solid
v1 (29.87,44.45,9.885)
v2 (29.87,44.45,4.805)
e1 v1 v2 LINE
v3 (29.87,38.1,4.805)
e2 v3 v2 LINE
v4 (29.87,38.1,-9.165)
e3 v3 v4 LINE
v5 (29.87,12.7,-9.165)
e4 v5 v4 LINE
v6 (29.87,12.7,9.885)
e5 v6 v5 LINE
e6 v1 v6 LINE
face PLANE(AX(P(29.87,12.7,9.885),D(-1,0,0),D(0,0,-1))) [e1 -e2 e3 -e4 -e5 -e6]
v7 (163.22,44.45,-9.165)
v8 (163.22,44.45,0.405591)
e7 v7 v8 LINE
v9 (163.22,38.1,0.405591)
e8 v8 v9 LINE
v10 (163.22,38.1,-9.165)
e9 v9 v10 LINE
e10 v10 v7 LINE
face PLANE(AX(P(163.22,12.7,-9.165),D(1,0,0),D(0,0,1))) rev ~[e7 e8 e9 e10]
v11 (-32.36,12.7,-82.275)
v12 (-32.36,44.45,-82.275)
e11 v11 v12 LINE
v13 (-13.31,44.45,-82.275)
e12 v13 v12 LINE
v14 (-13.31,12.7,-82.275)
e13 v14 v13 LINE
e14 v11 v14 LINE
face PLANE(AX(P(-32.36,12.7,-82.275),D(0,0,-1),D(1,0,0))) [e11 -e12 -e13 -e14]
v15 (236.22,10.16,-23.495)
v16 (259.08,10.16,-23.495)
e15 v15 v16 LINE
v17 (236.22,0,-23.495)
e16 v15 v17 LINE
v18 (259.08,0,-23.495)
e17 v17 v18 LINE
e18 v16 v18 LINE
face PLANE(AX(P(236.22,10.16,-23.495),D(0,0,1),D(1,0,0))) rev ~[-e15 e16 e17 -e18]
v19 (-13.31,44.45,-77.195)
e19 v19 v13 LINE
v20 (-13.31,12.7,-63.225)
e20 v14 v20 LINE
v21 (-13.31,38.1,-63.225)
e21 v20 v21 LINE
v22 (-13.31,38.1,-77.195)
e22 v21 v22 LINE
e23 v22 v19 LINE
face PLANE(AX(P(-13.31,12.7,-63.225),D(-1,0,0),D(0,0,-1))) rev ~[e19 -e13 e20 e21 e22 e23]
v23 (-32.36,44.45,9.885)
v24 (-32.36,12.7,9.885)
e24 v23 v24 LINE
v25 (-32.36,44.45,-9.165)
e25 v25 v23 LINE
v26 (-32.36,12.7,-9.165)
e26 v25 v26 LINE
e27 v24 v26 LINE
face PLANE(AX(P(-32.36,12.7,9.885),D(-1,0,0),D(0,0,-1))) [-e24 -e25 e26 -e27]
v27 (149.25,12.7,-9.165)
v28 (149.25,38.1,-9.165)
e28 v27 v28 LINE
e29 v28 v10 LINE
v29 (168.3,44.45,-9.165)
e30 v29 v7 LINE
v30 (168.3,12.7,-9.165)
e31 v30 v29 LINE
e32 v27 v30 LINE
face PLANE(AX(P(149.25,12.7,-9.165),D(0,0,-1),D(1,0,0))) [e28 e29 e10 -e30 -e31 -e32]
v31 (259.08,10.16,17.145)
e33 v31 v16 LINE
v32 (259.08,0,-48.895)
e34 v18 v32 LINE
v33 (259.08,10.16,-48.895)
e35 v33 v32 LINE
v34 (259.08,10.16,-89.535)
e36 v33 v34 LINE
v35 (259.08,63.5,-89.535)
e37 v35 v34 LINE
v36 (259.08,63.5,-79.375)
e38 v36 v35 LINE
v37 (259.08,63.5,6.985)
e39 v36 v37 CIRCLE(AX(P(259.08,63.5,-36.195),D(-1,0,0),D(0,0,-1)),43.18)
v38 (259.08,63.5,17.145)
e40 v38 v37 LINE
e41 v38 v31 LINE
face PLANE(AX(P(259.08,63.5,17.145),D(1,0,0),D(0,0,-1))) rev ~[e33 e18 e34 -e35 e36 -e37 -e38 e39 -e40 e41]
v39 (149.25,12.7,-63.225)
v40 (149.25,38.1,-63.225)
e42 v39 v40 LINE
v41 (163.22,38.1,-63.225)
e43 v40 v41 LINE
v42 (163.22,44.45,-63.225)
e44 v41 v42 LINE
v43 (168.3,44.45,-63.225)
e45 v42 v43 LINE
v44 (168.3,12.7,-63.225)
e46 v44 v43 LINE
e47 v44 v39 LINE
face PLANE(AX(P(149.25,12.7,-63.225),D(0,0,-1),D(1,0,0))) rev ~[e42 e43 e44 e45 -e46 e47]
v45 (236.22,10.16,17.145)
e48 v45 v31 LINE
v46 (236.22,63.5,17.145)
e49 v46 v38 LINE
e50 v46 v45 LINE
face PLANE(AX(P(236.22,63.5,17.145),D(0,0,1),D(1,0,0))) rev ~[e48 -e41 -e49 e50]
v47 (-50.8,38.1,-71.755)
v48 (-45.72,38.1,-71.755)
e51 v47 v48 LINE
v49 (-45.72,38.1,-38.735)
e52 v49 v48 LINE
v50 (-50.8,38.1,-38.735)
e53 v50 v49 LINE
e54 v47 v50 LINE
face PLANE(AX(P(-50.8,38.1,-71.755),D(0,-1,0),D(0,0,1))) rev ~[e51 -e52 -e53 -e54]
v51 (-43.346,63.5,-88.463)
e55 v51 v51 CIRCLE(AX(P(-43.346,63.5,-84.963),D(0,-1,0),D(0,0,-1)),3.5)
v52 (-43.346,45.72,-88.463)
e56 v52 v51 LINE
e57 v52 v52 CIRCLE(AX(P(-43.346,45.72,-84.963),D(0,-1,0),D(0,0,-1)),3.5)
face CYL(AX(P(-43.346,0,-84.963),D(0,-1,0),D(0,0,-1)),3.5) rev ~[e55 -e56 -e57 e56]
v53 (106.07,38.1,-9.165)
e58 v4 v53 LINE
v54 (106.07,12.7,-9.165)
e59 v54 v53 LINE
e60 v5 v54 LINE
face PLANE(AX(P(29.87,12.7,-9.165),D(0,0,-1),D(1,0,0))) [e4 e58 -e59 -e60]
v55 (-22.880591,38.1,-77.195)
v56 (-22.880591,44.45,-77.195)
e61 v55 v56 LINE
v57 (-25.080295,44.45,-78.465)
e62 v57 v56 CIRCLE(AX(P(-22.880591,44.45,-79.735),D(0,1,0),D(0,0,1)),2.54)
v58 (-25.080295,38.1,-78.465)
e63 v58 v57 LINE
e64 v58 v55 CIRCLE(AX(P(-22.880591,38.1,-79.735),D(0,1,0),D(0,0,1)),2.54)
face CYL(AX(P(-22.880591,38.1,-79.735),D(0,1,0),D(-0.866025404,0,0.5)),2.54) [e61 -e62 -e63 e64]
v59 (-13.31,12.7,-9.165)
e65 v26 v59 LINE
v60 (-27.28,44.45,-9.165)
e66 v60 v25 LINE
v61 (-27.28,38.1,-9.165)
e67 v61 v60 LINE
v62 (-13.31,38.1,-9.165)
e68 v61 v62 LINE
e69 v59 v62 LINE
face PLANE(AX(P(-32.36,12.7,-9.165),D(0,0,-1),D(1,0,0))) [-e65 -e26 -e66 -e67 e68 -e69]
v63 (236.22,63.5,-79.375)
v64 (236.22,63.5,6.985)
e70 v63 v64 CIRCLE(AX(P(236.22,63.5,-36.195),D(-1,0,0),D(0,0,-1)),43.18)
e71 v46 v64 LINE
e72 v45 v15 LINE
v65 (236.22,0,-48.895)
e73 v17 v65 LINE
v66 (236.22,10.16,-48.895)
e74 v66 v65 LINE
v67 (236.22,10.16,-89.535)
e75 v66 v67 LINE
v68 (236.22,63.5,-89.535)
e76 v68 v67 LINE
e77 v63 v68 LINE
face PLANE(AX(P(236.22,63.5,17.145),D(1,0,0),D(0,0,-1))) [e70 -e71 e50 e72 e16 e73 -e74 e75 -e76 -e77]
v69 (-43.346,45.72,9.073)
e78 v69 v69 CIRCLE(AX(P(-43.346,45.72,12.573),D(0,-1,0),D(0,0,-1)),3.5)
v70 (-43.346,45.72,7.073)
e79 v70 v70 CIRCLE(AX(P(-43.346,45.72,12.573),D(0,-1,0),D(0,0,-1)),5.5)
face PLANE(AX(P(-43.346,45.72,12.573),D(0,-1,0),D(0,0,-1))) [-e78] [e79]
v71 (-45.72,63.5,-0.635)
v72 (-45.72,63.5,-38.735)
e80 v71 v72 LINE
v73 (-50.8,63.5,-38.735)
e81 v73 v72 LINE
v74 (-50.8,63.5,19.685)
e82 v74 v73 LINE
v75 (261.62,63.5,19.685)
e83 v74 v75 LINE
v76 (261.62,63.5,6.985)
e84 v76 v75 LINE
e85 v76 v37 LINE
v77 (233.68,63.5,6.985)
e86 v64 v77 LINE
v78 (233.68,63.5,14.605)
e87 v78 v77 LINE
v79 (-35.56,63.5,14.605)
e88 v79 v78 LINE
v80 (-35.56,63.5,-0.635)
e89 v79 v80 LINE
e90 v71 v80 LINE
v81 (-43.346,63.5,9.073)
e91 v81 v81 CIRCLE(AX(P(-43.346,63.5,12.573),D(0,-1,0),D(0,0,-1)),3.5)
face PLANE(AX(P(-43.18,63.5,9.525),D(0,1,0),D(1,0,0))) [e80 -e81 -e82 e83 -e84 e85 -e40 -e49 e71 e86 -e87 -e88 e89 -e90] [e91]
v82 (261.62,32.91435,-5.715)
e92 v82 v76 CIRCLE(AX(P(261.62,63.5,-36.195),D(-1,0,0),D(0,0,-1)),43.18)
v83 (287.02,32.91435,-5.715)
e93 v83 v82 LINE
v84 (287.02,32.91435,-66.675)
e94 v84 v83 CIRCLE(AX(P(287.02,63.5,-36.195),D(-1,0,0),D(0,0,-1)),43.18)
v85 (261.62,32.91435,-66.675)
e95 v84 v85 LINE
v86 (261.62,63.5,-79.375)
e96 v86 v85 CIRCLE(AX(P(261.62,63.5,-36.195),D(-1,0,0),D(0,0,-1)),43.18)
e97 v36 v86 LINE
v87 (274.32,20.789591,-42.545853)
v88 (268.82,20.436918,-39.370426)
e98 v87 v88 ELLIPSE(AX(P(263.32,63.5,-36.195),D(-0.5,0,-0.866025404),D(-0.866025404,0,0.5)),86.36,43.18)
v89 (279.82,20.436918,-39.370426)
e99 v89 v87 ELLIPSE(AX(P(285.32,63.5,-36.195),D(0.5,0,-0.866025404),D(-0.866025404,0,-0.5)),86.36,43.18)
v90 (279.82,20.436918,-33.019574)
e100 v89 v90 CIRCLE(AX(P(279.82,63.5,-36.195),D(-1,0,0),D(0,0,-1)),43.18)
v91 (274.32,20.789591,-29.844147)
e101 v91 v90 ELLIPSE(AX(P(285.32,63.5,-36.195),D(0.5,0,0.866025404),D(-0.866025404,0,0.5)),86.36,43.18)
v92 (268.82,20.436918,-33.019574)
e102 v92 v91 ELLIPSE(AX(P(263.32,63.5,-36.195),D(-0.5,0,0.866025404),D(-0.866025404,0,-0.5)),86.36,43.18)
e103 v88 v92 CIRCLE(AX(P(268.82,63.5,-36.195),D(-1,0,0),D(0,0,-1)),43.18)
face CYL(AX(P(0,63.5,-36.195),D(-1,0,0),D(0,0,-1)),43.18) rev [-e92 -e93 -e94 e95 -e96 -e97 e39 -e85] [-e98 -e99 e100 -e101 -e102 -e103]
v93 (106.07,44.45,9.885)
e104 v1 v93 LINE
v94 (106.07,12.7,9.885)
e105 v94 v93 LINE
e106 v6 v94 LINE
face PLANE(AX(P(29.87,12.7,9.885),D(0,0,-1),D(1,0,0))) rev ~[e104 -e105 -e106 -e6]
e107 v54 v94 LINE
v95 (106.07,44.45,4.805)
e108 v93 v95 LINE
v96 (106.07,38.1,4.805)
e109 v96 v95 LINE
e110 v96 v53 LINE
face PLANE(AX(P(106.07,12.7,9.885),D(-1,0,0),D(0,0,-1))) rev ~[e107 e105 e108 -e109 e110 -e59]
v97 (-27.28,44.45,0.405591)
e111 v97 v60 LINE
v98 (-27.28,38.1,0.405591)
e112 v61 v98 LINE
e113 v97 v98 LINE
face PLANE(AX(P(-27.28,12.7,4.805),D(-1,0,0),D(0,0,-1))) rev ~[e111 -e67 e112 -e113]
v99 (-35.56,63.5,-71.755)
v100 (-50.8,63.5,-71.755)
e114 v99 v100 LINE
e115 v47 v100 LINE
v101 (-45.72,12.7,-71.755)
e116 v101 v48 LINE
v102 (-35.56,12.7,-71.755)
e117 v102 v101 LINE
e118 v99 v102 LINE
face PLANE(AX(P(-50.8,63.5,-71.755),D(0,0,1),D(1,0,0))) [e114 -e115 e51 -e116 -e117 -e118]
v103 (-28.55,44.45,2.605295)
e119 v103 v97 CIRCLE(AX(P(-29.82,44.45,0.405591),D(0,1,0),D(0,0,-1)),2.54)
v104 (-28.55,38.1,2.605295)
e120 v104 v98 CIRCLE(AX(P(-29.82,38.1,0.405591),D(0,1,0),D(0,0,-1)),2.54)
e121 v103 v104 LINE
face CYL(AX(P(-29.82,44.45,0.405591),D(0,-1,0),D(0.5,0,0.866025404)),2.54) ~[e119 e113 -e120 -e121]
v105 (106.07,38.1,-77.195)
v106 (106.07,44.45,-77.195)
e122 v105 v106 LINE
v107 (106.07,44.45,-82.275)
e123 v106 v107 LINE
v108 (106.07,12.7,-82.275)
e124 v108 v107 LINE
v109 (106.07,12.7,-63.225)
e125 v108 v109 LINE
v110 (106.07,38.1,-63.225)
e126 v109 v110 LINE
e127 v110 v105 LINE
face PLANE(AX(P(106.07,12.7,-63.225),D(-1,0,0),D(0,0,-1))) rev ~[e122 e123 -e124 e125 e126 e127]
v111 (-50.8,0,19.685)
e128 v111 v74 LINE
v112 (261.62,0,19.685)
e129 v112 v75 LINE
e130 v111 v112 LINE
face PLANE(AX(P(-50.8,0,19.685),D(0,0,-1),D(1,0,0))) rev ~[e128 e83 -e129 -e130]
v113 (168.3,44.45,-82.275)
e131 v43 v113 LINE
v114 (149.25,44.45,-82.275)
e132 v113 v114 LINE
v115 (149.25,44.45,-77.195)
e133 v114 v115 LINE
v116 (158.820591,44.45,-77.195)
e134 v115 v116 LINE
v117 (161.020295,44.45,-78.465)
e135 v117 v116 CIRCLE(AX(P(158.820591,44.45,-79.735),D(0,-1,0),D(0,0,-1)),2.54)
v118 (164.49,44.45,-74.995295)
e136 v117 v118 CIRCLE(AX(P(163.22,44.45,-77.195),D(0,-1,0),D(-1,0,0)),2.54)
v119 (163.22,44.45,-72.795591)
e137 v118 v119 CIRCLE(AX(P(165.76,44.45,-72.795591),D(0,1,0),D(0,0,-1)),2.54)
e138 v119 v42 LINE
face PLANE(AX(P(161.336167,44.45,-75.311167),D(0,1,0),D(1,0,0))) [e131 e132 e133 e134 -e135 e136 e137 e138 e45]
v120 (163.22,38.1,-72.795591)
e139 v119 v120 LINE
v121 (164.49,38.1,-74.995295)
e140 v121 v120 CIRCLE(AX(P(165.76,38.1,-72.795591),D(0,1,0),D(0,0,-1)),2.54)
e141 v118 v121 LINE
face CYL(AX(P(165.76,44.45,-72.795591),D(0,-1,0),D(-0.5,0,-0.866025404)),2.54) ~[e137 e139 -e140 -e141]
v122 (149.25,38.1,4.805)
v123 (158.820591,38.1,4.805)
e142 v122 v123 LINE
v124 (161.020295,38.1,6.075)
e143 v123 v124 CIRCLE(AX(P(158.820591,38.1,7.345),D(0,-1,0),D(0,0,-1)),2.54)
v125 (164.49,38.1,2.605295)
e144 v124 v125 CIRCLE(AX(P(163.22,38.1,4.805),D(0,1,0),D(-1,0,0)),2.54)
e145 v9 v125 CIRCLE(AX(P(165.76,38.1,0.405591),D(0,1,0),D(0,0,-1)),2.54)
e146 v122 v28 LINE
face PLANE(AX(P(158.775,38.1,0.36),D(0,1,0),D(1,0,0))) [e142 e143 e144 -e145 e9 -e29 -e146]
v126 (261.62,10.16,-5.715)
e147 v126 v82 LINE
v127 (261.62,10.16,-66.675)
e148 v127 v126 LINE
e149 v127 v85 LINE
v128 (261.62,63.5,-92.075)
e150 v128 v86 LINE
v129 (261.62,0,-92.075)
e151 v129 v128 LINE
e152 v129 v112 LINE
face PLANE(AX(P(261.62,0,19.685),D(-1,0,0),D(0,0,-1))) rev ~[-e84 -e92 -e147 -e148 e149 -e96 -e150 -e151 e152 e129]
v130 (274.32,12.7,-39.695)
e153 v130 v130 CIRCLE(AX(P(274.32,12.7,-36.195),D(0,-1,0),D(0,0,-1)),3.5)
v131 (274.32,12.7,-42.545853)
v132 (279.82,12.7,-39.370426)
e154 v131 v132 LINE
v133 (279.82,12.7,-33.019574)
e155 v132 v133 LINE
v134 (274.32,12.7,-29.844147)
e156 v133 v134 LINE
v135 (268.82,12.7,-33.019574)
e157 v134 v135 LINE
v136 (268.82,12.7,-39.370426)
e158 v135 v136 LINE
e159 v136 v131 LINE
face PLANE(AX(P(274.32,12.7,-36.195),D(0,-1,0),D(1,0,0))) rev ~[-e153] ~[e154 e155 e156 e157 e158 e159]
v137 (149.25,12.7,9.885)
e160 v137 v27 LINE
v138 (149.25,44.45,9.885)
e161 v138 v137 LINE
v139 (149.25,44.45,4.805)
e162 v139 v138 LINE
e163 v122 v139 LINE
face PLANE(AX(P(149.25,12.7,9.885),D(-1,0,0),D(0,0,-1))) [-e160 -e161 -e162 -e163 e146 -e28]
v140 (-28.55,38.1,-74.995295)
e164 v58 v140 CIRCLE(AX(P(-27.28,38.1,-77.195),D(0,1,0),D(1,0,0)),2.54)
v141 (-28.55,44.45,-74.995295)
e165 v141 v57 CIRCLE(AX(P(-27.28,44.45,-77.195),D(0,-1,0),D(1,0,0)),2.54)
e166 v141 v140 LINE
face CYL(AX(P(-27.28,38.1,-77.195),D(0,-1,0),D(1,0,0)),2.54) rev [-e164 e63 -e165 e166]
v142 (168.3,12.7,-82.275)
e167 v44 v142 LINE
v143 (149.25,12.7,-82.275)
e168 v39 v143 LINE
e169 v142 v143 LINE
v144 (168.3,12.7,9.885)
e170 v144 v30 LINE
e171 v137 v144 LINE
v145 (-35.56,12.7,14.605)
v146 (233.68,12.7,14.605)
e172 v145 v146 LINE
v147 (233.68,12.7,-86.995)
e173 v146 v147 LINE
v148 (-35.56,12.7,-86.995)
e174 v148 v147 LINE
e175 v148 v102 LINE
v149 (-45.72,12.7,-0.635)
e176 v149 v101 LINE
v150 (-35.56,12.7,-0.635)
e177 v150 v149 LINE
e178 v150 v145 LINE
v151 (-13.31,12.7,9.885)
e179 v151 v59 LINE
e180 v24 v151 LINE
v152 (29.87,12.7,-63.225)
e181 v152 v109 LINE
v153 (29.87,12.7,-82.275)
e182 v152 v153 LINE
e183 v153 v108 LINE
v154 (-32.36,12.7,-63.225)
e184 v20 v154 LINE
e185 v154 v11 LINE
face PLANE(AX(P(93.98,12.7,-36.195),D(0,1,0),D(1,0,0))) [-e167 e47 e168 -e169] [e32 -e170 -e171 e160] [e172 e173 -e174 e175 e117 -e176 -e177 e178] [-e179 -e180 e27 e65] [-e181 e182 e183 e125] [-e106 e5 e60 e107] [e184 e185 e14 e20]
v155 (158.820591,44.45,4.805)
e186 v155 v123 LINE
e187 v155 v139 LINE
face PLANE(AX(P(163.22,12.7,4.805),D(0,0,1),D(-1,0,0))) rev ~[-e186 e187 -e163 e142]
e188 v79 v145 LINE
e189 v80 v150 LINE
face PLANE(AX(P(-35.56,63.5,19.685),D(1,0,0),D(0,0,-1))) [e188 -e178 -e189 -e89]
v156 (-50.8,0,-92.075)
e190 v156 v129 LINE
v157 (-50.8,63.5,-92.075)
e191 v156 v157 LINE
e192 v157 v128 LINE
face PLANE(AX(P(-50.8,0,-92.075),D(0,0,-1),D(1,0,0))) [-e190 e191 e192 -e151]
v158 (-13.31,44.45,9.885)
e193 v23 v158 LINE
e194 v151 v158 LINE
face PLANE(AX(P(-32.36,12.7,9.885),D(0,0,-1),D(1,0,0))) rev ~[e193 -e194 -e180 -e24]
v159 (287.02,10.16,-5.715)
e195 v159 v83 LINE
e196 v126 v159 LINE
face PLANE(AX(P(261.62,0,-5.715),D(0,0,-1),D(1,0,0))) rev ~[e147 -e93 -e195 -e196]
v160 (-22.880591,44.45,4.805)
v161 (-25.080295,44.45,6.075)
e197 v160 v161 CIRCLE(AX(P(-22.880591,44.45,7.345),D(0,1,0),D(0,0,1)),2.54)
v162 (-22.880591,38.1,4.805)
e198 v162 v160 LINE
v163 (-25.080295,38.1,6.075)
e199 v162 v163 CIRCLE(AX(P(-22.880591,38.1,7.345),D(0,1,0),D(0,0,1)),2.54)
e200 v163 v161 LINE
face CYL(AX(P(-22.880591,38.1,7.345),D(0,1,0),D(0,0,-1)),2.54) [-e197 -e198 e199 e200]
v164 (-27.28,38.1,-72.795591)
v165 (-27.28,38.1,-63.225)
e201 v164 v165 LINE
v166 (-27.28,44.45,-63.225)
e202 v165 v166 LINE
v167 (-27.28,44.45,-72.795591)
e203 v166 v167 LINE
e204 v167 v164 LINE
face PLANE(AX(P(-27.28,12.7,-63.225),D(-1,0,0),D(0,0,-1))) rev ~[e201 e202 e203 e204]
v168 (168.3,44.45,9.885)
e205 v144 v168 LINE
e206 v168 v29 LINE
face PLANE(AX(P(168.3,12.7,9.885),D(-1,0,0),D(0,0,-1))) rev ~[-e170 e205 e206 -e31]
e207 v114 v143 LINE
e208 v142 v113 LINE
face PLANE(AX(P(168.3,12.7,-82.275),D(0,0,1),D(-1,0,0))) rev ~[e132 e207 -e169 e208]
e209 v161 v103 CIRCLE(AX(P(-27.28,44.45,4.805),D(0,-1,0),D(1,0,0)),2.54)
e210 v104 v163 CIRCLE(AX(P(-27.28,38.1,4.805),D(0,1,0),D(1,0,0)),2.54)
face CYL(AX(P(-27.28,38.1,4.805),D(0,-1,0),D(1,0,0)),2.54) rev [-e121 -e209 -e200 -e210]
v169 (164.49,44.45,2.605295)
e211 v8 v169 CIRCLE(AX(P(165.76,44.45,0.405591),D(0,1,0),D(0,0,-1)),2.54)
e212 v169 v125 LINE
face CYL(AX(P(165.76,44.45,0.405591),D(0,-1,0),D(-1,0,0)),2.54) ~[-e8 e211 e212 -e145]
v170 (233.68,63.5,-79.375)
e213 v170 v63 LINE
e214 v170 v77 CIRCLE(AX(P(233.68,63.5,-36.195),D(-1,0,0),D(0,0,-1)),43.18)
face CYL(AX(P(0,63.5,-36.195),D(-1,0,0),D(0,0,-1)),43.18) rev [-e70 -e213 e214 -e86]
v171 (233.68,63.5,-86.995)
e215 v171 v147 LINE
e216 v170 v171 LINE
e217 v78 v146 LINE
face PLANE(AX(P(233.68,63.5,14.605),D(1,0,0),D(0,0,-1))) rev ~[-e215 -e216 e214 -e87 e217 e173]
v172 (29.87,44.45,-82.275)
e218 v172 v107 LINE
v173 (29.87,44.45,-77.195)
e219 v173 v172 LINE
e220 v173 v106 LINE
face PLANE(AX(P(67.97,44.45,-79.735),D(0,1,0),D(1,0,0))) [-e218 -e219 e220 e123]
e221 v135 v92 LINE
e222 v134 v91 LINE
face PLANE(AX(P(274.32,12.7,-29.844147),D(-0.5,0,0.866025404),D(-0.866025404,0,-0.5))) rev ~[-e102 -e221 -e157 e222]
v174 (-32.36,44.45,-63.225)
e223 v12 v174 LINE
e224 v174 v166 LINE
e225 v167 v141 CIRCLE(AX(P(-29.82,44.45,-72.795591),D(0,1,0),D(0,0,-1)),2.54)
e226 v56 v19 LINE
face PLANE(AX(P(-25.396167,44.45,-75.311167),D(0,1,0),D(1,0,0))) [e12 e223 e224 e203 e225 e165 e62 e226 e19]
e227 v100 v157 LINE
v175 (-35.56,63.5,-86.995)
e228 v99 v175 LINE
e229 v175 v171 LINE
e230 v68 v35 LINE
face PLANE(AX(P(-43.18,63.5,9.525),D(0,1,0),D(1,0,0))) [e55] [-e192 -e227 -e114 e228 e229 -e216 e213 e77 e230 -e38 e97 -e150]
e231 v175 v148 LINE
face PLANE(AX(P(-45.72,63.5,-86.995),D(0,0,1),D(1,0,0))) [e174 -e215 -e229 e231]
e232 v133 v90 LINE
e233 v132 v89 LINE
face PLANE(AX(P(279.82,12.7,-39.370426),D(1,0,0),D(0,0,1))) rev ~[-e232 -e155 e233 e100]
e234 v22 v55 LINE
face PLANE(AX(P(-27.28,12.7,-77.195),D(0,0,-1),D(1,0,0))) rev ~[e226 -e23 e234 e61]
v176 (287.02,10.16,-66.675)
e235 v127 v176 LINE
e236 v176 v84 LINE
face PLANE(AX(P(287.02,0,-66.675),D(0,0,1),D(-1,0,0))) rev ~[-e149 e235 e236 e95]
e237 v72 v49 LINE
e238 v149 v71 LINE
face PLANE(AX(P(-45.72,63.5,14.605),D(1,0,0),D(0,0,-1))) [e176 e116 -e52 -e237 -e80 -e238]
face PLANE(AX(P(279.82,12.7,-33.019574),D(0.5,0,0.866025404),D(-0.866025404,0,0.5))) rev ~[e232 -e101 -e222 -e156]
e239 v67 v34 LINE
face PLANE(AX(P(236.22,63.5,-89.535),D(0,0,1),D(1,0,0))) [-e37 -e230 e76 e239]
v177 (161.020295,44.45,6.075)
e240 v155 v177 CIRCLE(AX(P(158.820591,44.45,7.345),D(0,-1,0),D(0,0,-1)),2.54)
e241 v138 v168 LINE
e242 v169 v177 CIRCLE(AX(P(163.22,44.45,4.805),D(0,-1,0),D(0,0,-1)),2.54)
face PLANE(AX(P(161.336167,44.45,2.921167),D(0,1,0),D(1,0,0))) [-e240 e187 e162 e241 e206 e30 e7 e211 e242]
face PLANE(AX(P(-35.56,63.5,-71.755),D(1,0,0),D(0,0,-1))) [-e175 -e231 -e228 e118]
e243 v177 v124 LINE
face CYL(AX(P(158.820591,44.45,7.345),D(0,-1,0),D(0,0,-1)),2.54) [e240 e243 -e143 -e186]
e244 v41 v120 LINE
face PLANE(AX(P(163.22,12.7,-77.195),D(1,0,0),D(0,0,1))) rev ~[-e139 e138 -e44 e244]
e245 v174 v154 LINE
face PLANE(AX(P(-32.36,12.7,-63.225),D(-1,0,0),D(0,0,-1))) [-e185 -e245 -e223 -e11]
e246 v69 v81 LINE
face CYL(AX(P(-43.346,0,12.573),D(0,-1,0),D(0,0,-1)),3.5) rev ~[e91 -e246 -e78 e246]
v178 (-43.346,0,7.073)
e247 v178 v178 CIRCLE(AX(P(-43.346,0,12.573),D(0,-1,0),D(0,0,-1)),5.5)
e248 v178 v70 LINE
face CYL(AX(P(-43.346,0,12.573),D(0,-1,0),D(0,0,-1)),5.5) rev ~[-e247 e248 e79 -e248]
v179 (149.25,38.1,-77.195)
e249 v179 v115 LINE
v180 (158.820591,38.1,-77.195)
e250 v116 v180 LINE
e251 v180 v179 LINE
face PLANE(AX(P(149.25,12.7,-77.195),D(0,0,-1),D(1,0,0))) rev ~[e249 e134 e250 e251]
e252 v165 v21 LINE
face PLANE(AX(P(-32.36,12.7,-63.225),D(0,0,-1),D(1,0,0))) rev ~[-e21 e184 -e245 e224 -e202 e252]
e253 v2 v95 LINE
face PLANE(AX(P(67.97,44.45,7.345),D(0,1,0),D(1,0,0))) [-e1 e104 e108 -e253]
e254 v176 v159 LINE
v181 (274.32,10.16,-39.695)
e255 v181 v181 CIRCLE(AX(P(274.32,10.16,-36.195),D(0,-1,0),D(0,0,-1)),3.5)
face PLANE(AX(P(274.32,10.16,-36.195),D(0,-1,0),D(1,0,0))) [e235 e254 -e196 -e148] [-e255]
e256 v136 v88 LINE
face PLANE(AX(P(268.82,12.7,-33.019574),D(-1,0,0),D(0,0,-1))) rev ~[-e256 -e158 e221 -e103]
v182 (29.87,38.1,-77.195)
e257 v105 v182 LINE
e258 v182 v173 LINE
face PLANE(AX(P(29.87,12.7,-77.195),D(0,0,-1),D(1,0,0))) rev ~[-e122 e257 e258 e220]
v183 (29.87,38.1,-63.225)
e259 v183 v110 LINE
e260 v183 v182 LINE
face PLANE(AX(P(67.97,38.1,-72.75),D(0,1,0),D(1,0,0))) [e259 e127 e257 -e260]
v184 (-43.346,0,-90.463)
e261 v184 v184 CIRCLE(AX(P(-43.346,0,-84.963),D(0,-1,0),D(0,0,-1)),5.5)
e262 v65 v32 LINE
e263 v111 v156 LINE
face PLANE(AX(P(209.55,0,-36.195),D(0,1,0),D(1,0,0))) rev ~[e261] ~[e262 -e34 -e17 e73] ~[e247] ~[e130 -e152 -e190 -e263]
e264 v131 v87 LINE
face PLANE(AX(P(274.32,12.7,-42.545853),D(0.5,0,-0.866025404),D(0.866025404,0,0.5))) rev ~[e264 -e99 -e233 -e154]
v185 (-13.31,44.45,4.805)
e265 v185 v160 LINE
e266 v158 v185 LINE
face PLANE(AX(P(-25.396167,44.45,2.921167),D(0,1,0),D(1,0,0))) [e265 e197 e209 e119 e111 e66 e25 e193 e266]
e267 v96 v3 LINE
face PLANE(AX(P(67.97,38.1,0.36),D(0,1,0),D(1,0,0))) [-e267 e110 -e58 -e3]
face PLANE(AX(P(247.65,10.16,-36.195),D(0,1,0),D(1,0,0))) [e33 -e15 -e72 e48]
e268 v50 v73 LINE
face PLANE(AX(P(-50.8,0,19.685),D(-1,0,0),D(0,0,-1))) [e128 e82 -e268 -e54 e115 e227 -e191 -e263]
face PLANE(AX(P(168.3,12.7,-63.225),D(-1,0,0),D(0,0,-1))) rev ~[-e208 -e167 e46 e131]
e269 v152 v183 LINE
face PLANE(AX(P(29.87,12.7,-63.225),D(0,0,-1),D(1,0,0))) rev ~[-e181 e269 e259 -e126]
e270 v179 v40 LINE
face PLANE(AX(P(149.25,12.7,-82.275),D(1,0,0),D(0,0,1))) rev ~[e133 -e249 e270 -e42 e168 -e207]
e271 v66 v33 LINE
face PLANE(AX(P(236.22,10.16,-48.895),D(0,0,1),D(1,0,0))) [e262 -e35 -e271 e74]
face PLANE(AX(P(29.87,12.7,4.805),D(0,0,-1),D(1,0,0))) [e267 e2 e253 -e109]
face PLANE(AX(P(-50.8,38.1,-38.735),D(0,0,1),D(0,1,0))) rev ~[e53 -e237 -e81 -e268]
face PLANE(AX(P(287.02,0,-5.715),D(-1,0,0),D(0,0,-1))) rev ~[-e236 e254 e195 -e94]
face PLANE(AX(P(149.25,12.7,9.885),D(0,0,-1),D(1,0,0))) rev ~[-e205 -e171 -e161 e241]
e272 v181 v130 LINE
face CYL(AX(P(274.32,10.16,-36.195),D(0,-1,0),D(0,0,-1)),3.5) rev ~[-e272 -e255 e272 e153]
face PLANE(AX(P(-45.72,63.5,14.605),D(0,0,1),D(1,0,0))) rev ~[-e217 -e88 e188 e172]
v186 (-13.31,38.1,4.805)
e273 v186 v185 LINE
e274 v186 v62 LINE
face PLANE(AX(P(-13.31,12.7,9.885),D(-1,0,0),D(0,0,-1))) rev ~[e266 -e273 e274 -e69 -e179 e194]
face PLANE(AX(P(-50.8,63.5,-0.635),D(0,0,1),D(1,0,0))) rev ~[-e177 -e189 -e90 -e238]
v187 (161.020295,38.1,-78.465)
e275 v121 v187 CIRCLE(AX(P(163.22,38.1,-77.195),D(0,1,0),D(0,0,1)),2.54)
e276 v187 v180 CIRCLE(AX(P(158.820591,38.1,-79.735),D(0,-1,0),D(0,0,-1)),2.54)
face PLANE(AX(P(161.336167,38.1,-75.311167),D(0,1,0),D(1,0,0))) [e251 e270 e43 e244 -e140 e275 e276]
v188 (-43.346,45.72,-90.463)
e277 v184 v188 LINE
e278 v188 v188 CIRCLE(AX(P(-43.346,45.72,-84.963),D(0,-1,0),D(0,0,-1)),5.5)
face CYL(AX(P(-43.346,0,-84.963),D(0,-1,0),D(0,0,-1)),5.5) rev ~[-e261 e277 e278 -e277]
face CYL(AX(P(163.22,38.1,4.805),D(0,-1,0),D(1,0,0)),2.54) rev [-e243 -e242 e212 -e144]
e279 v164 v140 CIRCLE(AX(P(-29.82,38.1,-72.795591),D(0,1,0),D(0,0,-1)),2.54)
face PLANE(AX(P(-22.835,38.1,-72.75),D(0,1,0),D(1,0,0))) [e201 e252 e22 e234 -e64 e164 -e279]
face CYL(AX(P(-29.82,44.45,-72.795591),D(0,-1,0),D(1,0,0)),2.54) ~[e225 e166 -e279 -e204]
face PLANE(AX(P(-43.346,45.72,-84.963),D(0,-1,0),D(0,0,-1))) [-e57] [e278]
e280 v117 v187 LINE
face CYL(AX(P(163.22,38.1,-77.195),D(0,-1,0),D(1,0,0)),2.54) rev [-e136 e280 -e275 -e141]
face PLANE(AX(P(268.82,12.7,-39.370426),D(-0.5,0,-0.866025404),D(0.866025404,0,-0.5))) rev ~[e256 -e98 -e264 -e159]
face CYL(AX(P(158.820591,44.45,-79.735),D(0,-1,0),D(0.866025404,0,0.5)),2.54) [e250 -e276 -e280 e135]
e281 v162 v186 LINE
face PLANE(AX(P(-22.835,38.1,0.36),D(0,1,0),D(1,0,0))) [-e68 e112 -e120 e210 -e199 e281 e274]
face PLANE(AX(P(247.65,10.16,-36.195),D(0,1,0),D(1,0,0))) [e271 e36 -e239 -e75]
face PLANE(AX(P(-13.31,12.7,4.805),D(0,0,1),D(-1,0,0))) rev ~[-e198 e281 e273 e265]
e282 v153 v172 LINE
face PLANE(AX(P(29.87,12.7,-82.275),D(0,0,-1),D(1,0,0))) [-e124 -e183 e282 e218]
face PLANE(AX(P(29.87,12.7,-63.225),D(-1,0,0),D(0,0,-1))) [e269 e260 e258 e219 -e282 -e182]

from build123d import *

# Parameters (mm, degrees)
SKETCH3_W           = 520.7
SKETCH3_H           = 111.76
BOSS_EXTRUDE1_DEPTH = 63.5
CUT_EXTRUDE1_START  = 6.35
SKETCH2_W           = 77.47
SKETCH2_H           = 77.47
CUT_EXTRUDE1_DEPTH  = 111.76
CUT_EXTRUDE2_DEPTH  = 156.718
SKETCH5_R           = 43.18
CUT_EXTRUDE3_DEPTH  = 355.6
SKETCH6_W           = 279.4
SKETCH6_H           = 101.6
CUT_EXTRUDE4_DEPTH  = 50.8
CUT_EXTRUDE5_DEPTH  = 174.244
SKETCH9_W           = 25.4
SKETCH9_H           = 60.96
CUT_EXTRUDE6_DEPTH  = 10.16
BOSS_EXTRUDE2_REACH = 310.043
SKETCH11_W          = 15.24
SKETCH11_H          = 20.32
SKETCH10_R          = 3.5
CUT_EXTRUDE7_DEPTH  = 76.2
SKETCH10_3_R        = 5.5
CUT_EXTRUDE8_DEPTH  = 45.72
SKETCH13_R          = 3.5
CUT_EXTRUDE9_DEPTH  = 34.448
CUT_EXTRUDE10_START = -2.54
SKETCH13_3_R        = 3.5
CUT_EXTRUDE10_DEPTH = 34.448
SKETCH14_W          = 19.05
SKETCH14_H          = 19.05
SKETCH14_W_2        = 76.2
BOSS_EXTRUDE3_DEPTH = 25.4
SKETCH14_3_W        = 76.2
SKETCH14_3_H        = 5.08
BOSS_EXTRUDE4_DEPTH = 31.75
SKETCH16_W          = 22.86
SKETCH16_H          = 106.68
CUT_EXTRUDE12_DEPTH = 53.34
SKETCH17_W          = 22.86
SKETCH17_H          = 25.4
CUT_EXTRUDE13_DEPTH = 52.54
SKETCH18_W          = 33.02
SKETCH18_H          = 25.4
CUT_EXTRUDE14_DEPTH = 17.018
SKETCH19_R          = 2.54
CUT_EXTRUDE15_DEPTH = 23.876
FILLET1_R           = 2.54


with BuildPart() as part:
    # Sketch3 → Boss-Extrude1 (new body)
    with BuildSketch(Plane(origin=(0, 0, 0), x_dir=(1, 0, 0), z_dir=(0, 1, 0))):
        with Locations((209.55, 36.195)):
            Rectangle(SKETCH3_W, SKETCH3_H)
    extrude(amount=BOSS_EXTRUDE1_DEPTH)

    # Sketch2 → Cut-Extrude1 (cut)
    with BuildSketch(Plane(origin=(0, 0, 0), x_dir=(1, 0, 0), z_dir=(0, 1, 0)).offset(CUT_EXTRUDE1_START)):
        with Locations((412.75, 36.195)):
            Rectangle(SKETCH2_W, SKETCH2_H)
    extrude(amount=CUT_EXTRUDE1_DEPTH, mode=Mode.SUBTRACT)

    # Sketch4 → Cut-Extrude2 (cut)
    with BuildSketch(Plane.XY.offset(19.685)):
        with BuildLine():
            Line((330.2, 12.7), (469.9, 12.7))
            Line((469.9, 12.7), (469.9, 63.5))
            Line((469.9, 63.5), (381, 63.5))
            ThreePointArc((381, 63.5), (294.278975516, 99.421024484), (330.2, 12.7))
        make_face()
    extrude(amount=-CUT_EXTRUDE2_DEPTH, mode=Mode.SUBTRACT)

    # Sketch5 → Cut-Extrude3 (cut)
    with BuildSketch(Plane(origin=(0, 0, 0), x_dir=(0, 0, -1), z_dir=(1, 0, 0))):
        with Locations((36.195, 63.5)):
            Circle(SKETCH5_R)
    extrude(amount=CUT_EXTRUDE3_DEPTH, mode=Mode.SUBTRACT)

    # Sketch6 → Cut-Extrude4 (cut)
    with BuildSketch(Plane(origin=(0, 63.5, 0), x_dir=(1, 0, 0), z_dir=(0, 1, 0))):
        with Locations((93.98, 36.195)):
            Rectangle(SKETCH6_W, SKETCH6_H)
    extrude(amount=-CUT_EXTRUDE4_DEPTH, mode=Mode.SUBTRACT)

    # Sketch7 → Cut-Revolve1 (revolve, cut)
    with BuildSketch(Plane(origin=(0, 63.5, 0), x_dir=(1, 0, 0), z_dir=(0, 1, 0))):
        with BuildLine():
            Line((241.3, -13.805), (245.161436971, -13.805))
            ThreePointArc((245.161436971, -13.805), (249.759619592, 11.007294884), (251.3, 36.195))
            Line((251.3, 36.195), (241.3, 36.195))
            Line((241.3, 36.195), (241.3, -13.805))
        make_face()
    revolve(axis=Axis((-45.72, 63.5, -36.195), (1, 0, 0)), mode=Mode.SUBTRACT)

    # Sketch8 → Cut-Extrude5 (cut)
    with BuildSketch(Plane.XZ):
        Polygon((261.62, 19.685), (261.62, -5.715), (287.02, -5.715), (287.02, -66.675), (261.62, -66.675), (261.62, -92.075), (609.54801076, -173.862508288), (609.54801076, 88.425228921), align=None)
    extrude(amount=-CUT_EXTRUDE5_DEPTH, mode=Mode.SUBTRACT)

    # Sketch9 → Cut-Extrude6 (cut)
    with BuildSketch(Plane.XZ):
        with Locations((274.32, -36.195)):
            Rectangle(SKETCH9_W, SKETCH9_H)
    extrude(amount=-CUT_EXTRUDE6_DEPTH, mode=Mode.SUBTRACT)

    # Sketch11 → Boss-Extrude2 (add, up to next)
    with BuildSketch(Plane(origin=(0, 63.5, 0), x_dir=(1, 0, 0), z_dir=(0, 1, 0)), mode=Mode.PRIVATE) as boss_extrude2_sk1:
        with Locations((-43.18, 81.915)):
            Rectangle(SKETCH11_W, SKETCH11_H)
    boss_extrude2_tool1 = extrude(boss_extrude2_sk1.sketch, amount=-BOSS_EXTRUDE2_REACH, mode=Mode.PRIVATE) - part.part
    # Sketch11 → Boss-Extrude2 (add, up to next)
    with BuildSketch(Plane(origin=(0, 63.5, 0), x_dir=(1, 0, 0), z_dir=(0, 1, 0)), mode=Mode.PRIVATE) as boss_extrude2_sk2:
        with Locations((-43.18, -9.525)):
            Rectangle(SKETCH11_W, SKETCH11_H)
    boss_extrude2_tool2 = extrude(boss_extrude2_sk2.sketch, amount=-BOSS_EXTRUDE2_REACH, mode=Mode.PRIVATE) - part.part
    add(boss_extrude2_tool1.solids().sort_by_distance((-43.18, 63.5, -81.915))[0])
    add(boss_extrude2_tool2.solids().sort_by_distance((-43.18, 63.5, 9.525))[0])

    # Sketch10 → Cut-Extrude7 (cut)
    with BuildSketch(Plane.XZ):
        with Locations((-43.346, -84.963)):
            Circle(SKETCH10_R)
        with Locations((-43.346, 12.573)):
            Circle(SKETCH10_R)
    extrude(amount=-CUT_EXTRUDE7_DEPTH, mode=Mode.SUBTRACT)

    # Sketch10<3> → Cut-Extrude8 (cut)
    with BuildSketch(Plane.XZ):
        with Locations((-43.346, 12.573)):
            Circle(SKETCH10_3_R)
        with Locations((-43.346, -84.963)):
            Circle(SKETCH10_3_R)
    extrude(amount=-CUT_EXTRUDE8_DEPTH, mode=Mode.SUBTRACT)

    # Sketch13 → Cut-Extrude9 (cut)
    with BuildSketch(Plane.XZ.offset(-10.16)):
        with Locations((274.32, -36.195)):
            Circle(SKETCH13_R)
    extrude(amount=-CUT_EXTRUDE9_DEPTH, mode=Mode.SUBTRACT)

    # Sketch13<3> → Cut-Extrude10 (cut)
    with BuildSketch(Plane.XZ.offset(-10.16).offset(CUT_EXTRUDE10_START)):
        Polygon((268.82, -39.370426481), (274.32, -42.545852961), (279.82, -39.370426481), (279.82, -33.019573519), (274.32, -29.844147039), (268.82, -33.019573519), align=None)
        with Locations((274.32, -36.195)):
            Circle(SKETCH13_3_R, mode=Mode.SUBTRACT)
    extrude(amount=-CUT_EXTRUDE10_DEPTH, mode=Mode.SUBTRACT)

    # Sketch14 → Boss-Extrude3 (add)
    with BuildSketch(Plane(origin=(0, 12.7, 0), x_dir=(1, 0, 0), z_dir=(0, 1, 0))):
        with Locations((-22.835, -0.36)):
            Rectangle(SKETCH14_W, SKETCH14_H)
        with Locations((67.97, -0.36)):
            Rectangle(SKETCH14_W_2, SKETCH14_H)
        with Locations((-22.835, 72.75)):
            Rectangle(SKETCH14_W, SKETCH14_H)
        with Locations((67.97, 72.75)):
            Rectangle(SKETCH14_W_2, SKETCH14_H)
        with Locations((158.775, -0.36)):
            Rectangle(SKETCH14_W, SKETCH14_H)
        with Locations((158.775, 72.75)):
            Rectangle(SKETCH14_W, SKETCH14_H)
    extrude(amount=BOSS_EXTRUDE3_DEPTH)

    # Sketch14<3> → Boss-Extrude4 (add)
    with BuildSketch(Plane(origin=(0, 12.7, 0), x_dir=(1, 0, 0), z_dir=(0, 1, 0))):
        Polygon((-13.31, -4.805), (-27.28, -4.805), (-27.28, 9.165), (-32.36, 9.165), (-32.36, -9.885), (-13.31, -9.885), align=None)
        with Locations((67.97, -7.345)):
            Rectangle(SKETCH14_3_W, SKETCH14_3_H)
        Polygon((-32.36, 63.225), (-27.28, 63.225), (-27.28, 77.195), (-13.31, 77.195), (-13.31, 82.275), (-32.36, 82.275), align=None)
        Polygon((163.22, -4.805), (149.25, -4.805), (149.25, -9.885), (168.3, -9.885), (168.3, 9.165), (163.22, 9.165), align=None)
        with Locations((67.97, 79.735)):
            Rectangle(SKETCH14_3_W, SKETCH14_3_H)
        Polygon((149.25, 82.275), (149.25, 77.195), (163.22, 77.195), (163.22, 63.225), (168.3, 63.225), (168.3, 82.275), align=None)
    extrude(amount=BOSS_EXTRUDE4_DEPTH)

    # Sketch16 → Cut-Extrude12 (cut)
    with BuildSketch(Plane(origin=(0, 63.5, 0), x_dir=(1, 0, 0), z_dir=(0, 1, 0))):
        with Locations((247.65, 36.195)):
            Rectangle(SKETCH16_W, SKETCH16_H)
    extrude(amount=-CUT_EXTRUDE12_DEPTH, mode=Mode.SUBTRACT)

    # Sketch17 → Cut-Extrude13 (cut)
    with BuildSketch(Plane(origin=(0, 10.16, 0), x_dir=(1, 0, 0), z_dir=(0, 1, 0))):
        with Locations((247.65, 36.195)):
            Rectangle(SKETCH17_W, SKETCH17_H)
    extrude(amount=-CUT_EXTRUDE13_DEPTH, mode=Mode.SUBTRACT)

    # Sketch18 → Cut-Extrude14 (cut)
    with BuildSketch(Plane.ZY.offset(50.8)):
        with Locations((-55.245, 50.8)):
            Rectangle(SKETCH18_W, SKETCH18_H)
    extrude(amount=-CUT_EXTRUDE14_DEPTH, mode=Mode.SUBTRACT)

    # Sketch19 → Cut-Extrude15 (cut)
    with BuildSketch(Plane(origin=(0, 38.1, 0), x_dir=(1, 0, 0), z_dir=(0, 1, 0))):
        with Locations((-27.28, 77.195)):
            Circle(SKETCH19_R)
        with Locations((163.22, 77.195)):
            Circle(SKETCH19_R)
        with Locations((163.22, -4.805)):
            Circle(SKETCH19_R)
        with Locations((-27.28, -4.805)):
            Circle(SKETCH19_R)
    extrude(amount=CUT_EXTRUDE15_DEPTH, mode=Mode.SUBTRACT)

    # Fillet1
    fillet1_edges = [part.edges().sort_by_distance(p)[0] for p in [
        (-24.74, 41.275, 4.805),
        (-27.28, 41.275, 2.265),
        (163.22, 41.275, 2.265),
        (160.68, 41.275, 4.805),
        (160.68, 41.275, -77.195),
        (163.22, 41.275, -74.655),
        (-27.28, 41.275, -74.655),
        (-24.74, 41.275, -77.195),
    ]]
    fillet(fillet1_edges, radius=FILLET1_R)


solid = part.part
